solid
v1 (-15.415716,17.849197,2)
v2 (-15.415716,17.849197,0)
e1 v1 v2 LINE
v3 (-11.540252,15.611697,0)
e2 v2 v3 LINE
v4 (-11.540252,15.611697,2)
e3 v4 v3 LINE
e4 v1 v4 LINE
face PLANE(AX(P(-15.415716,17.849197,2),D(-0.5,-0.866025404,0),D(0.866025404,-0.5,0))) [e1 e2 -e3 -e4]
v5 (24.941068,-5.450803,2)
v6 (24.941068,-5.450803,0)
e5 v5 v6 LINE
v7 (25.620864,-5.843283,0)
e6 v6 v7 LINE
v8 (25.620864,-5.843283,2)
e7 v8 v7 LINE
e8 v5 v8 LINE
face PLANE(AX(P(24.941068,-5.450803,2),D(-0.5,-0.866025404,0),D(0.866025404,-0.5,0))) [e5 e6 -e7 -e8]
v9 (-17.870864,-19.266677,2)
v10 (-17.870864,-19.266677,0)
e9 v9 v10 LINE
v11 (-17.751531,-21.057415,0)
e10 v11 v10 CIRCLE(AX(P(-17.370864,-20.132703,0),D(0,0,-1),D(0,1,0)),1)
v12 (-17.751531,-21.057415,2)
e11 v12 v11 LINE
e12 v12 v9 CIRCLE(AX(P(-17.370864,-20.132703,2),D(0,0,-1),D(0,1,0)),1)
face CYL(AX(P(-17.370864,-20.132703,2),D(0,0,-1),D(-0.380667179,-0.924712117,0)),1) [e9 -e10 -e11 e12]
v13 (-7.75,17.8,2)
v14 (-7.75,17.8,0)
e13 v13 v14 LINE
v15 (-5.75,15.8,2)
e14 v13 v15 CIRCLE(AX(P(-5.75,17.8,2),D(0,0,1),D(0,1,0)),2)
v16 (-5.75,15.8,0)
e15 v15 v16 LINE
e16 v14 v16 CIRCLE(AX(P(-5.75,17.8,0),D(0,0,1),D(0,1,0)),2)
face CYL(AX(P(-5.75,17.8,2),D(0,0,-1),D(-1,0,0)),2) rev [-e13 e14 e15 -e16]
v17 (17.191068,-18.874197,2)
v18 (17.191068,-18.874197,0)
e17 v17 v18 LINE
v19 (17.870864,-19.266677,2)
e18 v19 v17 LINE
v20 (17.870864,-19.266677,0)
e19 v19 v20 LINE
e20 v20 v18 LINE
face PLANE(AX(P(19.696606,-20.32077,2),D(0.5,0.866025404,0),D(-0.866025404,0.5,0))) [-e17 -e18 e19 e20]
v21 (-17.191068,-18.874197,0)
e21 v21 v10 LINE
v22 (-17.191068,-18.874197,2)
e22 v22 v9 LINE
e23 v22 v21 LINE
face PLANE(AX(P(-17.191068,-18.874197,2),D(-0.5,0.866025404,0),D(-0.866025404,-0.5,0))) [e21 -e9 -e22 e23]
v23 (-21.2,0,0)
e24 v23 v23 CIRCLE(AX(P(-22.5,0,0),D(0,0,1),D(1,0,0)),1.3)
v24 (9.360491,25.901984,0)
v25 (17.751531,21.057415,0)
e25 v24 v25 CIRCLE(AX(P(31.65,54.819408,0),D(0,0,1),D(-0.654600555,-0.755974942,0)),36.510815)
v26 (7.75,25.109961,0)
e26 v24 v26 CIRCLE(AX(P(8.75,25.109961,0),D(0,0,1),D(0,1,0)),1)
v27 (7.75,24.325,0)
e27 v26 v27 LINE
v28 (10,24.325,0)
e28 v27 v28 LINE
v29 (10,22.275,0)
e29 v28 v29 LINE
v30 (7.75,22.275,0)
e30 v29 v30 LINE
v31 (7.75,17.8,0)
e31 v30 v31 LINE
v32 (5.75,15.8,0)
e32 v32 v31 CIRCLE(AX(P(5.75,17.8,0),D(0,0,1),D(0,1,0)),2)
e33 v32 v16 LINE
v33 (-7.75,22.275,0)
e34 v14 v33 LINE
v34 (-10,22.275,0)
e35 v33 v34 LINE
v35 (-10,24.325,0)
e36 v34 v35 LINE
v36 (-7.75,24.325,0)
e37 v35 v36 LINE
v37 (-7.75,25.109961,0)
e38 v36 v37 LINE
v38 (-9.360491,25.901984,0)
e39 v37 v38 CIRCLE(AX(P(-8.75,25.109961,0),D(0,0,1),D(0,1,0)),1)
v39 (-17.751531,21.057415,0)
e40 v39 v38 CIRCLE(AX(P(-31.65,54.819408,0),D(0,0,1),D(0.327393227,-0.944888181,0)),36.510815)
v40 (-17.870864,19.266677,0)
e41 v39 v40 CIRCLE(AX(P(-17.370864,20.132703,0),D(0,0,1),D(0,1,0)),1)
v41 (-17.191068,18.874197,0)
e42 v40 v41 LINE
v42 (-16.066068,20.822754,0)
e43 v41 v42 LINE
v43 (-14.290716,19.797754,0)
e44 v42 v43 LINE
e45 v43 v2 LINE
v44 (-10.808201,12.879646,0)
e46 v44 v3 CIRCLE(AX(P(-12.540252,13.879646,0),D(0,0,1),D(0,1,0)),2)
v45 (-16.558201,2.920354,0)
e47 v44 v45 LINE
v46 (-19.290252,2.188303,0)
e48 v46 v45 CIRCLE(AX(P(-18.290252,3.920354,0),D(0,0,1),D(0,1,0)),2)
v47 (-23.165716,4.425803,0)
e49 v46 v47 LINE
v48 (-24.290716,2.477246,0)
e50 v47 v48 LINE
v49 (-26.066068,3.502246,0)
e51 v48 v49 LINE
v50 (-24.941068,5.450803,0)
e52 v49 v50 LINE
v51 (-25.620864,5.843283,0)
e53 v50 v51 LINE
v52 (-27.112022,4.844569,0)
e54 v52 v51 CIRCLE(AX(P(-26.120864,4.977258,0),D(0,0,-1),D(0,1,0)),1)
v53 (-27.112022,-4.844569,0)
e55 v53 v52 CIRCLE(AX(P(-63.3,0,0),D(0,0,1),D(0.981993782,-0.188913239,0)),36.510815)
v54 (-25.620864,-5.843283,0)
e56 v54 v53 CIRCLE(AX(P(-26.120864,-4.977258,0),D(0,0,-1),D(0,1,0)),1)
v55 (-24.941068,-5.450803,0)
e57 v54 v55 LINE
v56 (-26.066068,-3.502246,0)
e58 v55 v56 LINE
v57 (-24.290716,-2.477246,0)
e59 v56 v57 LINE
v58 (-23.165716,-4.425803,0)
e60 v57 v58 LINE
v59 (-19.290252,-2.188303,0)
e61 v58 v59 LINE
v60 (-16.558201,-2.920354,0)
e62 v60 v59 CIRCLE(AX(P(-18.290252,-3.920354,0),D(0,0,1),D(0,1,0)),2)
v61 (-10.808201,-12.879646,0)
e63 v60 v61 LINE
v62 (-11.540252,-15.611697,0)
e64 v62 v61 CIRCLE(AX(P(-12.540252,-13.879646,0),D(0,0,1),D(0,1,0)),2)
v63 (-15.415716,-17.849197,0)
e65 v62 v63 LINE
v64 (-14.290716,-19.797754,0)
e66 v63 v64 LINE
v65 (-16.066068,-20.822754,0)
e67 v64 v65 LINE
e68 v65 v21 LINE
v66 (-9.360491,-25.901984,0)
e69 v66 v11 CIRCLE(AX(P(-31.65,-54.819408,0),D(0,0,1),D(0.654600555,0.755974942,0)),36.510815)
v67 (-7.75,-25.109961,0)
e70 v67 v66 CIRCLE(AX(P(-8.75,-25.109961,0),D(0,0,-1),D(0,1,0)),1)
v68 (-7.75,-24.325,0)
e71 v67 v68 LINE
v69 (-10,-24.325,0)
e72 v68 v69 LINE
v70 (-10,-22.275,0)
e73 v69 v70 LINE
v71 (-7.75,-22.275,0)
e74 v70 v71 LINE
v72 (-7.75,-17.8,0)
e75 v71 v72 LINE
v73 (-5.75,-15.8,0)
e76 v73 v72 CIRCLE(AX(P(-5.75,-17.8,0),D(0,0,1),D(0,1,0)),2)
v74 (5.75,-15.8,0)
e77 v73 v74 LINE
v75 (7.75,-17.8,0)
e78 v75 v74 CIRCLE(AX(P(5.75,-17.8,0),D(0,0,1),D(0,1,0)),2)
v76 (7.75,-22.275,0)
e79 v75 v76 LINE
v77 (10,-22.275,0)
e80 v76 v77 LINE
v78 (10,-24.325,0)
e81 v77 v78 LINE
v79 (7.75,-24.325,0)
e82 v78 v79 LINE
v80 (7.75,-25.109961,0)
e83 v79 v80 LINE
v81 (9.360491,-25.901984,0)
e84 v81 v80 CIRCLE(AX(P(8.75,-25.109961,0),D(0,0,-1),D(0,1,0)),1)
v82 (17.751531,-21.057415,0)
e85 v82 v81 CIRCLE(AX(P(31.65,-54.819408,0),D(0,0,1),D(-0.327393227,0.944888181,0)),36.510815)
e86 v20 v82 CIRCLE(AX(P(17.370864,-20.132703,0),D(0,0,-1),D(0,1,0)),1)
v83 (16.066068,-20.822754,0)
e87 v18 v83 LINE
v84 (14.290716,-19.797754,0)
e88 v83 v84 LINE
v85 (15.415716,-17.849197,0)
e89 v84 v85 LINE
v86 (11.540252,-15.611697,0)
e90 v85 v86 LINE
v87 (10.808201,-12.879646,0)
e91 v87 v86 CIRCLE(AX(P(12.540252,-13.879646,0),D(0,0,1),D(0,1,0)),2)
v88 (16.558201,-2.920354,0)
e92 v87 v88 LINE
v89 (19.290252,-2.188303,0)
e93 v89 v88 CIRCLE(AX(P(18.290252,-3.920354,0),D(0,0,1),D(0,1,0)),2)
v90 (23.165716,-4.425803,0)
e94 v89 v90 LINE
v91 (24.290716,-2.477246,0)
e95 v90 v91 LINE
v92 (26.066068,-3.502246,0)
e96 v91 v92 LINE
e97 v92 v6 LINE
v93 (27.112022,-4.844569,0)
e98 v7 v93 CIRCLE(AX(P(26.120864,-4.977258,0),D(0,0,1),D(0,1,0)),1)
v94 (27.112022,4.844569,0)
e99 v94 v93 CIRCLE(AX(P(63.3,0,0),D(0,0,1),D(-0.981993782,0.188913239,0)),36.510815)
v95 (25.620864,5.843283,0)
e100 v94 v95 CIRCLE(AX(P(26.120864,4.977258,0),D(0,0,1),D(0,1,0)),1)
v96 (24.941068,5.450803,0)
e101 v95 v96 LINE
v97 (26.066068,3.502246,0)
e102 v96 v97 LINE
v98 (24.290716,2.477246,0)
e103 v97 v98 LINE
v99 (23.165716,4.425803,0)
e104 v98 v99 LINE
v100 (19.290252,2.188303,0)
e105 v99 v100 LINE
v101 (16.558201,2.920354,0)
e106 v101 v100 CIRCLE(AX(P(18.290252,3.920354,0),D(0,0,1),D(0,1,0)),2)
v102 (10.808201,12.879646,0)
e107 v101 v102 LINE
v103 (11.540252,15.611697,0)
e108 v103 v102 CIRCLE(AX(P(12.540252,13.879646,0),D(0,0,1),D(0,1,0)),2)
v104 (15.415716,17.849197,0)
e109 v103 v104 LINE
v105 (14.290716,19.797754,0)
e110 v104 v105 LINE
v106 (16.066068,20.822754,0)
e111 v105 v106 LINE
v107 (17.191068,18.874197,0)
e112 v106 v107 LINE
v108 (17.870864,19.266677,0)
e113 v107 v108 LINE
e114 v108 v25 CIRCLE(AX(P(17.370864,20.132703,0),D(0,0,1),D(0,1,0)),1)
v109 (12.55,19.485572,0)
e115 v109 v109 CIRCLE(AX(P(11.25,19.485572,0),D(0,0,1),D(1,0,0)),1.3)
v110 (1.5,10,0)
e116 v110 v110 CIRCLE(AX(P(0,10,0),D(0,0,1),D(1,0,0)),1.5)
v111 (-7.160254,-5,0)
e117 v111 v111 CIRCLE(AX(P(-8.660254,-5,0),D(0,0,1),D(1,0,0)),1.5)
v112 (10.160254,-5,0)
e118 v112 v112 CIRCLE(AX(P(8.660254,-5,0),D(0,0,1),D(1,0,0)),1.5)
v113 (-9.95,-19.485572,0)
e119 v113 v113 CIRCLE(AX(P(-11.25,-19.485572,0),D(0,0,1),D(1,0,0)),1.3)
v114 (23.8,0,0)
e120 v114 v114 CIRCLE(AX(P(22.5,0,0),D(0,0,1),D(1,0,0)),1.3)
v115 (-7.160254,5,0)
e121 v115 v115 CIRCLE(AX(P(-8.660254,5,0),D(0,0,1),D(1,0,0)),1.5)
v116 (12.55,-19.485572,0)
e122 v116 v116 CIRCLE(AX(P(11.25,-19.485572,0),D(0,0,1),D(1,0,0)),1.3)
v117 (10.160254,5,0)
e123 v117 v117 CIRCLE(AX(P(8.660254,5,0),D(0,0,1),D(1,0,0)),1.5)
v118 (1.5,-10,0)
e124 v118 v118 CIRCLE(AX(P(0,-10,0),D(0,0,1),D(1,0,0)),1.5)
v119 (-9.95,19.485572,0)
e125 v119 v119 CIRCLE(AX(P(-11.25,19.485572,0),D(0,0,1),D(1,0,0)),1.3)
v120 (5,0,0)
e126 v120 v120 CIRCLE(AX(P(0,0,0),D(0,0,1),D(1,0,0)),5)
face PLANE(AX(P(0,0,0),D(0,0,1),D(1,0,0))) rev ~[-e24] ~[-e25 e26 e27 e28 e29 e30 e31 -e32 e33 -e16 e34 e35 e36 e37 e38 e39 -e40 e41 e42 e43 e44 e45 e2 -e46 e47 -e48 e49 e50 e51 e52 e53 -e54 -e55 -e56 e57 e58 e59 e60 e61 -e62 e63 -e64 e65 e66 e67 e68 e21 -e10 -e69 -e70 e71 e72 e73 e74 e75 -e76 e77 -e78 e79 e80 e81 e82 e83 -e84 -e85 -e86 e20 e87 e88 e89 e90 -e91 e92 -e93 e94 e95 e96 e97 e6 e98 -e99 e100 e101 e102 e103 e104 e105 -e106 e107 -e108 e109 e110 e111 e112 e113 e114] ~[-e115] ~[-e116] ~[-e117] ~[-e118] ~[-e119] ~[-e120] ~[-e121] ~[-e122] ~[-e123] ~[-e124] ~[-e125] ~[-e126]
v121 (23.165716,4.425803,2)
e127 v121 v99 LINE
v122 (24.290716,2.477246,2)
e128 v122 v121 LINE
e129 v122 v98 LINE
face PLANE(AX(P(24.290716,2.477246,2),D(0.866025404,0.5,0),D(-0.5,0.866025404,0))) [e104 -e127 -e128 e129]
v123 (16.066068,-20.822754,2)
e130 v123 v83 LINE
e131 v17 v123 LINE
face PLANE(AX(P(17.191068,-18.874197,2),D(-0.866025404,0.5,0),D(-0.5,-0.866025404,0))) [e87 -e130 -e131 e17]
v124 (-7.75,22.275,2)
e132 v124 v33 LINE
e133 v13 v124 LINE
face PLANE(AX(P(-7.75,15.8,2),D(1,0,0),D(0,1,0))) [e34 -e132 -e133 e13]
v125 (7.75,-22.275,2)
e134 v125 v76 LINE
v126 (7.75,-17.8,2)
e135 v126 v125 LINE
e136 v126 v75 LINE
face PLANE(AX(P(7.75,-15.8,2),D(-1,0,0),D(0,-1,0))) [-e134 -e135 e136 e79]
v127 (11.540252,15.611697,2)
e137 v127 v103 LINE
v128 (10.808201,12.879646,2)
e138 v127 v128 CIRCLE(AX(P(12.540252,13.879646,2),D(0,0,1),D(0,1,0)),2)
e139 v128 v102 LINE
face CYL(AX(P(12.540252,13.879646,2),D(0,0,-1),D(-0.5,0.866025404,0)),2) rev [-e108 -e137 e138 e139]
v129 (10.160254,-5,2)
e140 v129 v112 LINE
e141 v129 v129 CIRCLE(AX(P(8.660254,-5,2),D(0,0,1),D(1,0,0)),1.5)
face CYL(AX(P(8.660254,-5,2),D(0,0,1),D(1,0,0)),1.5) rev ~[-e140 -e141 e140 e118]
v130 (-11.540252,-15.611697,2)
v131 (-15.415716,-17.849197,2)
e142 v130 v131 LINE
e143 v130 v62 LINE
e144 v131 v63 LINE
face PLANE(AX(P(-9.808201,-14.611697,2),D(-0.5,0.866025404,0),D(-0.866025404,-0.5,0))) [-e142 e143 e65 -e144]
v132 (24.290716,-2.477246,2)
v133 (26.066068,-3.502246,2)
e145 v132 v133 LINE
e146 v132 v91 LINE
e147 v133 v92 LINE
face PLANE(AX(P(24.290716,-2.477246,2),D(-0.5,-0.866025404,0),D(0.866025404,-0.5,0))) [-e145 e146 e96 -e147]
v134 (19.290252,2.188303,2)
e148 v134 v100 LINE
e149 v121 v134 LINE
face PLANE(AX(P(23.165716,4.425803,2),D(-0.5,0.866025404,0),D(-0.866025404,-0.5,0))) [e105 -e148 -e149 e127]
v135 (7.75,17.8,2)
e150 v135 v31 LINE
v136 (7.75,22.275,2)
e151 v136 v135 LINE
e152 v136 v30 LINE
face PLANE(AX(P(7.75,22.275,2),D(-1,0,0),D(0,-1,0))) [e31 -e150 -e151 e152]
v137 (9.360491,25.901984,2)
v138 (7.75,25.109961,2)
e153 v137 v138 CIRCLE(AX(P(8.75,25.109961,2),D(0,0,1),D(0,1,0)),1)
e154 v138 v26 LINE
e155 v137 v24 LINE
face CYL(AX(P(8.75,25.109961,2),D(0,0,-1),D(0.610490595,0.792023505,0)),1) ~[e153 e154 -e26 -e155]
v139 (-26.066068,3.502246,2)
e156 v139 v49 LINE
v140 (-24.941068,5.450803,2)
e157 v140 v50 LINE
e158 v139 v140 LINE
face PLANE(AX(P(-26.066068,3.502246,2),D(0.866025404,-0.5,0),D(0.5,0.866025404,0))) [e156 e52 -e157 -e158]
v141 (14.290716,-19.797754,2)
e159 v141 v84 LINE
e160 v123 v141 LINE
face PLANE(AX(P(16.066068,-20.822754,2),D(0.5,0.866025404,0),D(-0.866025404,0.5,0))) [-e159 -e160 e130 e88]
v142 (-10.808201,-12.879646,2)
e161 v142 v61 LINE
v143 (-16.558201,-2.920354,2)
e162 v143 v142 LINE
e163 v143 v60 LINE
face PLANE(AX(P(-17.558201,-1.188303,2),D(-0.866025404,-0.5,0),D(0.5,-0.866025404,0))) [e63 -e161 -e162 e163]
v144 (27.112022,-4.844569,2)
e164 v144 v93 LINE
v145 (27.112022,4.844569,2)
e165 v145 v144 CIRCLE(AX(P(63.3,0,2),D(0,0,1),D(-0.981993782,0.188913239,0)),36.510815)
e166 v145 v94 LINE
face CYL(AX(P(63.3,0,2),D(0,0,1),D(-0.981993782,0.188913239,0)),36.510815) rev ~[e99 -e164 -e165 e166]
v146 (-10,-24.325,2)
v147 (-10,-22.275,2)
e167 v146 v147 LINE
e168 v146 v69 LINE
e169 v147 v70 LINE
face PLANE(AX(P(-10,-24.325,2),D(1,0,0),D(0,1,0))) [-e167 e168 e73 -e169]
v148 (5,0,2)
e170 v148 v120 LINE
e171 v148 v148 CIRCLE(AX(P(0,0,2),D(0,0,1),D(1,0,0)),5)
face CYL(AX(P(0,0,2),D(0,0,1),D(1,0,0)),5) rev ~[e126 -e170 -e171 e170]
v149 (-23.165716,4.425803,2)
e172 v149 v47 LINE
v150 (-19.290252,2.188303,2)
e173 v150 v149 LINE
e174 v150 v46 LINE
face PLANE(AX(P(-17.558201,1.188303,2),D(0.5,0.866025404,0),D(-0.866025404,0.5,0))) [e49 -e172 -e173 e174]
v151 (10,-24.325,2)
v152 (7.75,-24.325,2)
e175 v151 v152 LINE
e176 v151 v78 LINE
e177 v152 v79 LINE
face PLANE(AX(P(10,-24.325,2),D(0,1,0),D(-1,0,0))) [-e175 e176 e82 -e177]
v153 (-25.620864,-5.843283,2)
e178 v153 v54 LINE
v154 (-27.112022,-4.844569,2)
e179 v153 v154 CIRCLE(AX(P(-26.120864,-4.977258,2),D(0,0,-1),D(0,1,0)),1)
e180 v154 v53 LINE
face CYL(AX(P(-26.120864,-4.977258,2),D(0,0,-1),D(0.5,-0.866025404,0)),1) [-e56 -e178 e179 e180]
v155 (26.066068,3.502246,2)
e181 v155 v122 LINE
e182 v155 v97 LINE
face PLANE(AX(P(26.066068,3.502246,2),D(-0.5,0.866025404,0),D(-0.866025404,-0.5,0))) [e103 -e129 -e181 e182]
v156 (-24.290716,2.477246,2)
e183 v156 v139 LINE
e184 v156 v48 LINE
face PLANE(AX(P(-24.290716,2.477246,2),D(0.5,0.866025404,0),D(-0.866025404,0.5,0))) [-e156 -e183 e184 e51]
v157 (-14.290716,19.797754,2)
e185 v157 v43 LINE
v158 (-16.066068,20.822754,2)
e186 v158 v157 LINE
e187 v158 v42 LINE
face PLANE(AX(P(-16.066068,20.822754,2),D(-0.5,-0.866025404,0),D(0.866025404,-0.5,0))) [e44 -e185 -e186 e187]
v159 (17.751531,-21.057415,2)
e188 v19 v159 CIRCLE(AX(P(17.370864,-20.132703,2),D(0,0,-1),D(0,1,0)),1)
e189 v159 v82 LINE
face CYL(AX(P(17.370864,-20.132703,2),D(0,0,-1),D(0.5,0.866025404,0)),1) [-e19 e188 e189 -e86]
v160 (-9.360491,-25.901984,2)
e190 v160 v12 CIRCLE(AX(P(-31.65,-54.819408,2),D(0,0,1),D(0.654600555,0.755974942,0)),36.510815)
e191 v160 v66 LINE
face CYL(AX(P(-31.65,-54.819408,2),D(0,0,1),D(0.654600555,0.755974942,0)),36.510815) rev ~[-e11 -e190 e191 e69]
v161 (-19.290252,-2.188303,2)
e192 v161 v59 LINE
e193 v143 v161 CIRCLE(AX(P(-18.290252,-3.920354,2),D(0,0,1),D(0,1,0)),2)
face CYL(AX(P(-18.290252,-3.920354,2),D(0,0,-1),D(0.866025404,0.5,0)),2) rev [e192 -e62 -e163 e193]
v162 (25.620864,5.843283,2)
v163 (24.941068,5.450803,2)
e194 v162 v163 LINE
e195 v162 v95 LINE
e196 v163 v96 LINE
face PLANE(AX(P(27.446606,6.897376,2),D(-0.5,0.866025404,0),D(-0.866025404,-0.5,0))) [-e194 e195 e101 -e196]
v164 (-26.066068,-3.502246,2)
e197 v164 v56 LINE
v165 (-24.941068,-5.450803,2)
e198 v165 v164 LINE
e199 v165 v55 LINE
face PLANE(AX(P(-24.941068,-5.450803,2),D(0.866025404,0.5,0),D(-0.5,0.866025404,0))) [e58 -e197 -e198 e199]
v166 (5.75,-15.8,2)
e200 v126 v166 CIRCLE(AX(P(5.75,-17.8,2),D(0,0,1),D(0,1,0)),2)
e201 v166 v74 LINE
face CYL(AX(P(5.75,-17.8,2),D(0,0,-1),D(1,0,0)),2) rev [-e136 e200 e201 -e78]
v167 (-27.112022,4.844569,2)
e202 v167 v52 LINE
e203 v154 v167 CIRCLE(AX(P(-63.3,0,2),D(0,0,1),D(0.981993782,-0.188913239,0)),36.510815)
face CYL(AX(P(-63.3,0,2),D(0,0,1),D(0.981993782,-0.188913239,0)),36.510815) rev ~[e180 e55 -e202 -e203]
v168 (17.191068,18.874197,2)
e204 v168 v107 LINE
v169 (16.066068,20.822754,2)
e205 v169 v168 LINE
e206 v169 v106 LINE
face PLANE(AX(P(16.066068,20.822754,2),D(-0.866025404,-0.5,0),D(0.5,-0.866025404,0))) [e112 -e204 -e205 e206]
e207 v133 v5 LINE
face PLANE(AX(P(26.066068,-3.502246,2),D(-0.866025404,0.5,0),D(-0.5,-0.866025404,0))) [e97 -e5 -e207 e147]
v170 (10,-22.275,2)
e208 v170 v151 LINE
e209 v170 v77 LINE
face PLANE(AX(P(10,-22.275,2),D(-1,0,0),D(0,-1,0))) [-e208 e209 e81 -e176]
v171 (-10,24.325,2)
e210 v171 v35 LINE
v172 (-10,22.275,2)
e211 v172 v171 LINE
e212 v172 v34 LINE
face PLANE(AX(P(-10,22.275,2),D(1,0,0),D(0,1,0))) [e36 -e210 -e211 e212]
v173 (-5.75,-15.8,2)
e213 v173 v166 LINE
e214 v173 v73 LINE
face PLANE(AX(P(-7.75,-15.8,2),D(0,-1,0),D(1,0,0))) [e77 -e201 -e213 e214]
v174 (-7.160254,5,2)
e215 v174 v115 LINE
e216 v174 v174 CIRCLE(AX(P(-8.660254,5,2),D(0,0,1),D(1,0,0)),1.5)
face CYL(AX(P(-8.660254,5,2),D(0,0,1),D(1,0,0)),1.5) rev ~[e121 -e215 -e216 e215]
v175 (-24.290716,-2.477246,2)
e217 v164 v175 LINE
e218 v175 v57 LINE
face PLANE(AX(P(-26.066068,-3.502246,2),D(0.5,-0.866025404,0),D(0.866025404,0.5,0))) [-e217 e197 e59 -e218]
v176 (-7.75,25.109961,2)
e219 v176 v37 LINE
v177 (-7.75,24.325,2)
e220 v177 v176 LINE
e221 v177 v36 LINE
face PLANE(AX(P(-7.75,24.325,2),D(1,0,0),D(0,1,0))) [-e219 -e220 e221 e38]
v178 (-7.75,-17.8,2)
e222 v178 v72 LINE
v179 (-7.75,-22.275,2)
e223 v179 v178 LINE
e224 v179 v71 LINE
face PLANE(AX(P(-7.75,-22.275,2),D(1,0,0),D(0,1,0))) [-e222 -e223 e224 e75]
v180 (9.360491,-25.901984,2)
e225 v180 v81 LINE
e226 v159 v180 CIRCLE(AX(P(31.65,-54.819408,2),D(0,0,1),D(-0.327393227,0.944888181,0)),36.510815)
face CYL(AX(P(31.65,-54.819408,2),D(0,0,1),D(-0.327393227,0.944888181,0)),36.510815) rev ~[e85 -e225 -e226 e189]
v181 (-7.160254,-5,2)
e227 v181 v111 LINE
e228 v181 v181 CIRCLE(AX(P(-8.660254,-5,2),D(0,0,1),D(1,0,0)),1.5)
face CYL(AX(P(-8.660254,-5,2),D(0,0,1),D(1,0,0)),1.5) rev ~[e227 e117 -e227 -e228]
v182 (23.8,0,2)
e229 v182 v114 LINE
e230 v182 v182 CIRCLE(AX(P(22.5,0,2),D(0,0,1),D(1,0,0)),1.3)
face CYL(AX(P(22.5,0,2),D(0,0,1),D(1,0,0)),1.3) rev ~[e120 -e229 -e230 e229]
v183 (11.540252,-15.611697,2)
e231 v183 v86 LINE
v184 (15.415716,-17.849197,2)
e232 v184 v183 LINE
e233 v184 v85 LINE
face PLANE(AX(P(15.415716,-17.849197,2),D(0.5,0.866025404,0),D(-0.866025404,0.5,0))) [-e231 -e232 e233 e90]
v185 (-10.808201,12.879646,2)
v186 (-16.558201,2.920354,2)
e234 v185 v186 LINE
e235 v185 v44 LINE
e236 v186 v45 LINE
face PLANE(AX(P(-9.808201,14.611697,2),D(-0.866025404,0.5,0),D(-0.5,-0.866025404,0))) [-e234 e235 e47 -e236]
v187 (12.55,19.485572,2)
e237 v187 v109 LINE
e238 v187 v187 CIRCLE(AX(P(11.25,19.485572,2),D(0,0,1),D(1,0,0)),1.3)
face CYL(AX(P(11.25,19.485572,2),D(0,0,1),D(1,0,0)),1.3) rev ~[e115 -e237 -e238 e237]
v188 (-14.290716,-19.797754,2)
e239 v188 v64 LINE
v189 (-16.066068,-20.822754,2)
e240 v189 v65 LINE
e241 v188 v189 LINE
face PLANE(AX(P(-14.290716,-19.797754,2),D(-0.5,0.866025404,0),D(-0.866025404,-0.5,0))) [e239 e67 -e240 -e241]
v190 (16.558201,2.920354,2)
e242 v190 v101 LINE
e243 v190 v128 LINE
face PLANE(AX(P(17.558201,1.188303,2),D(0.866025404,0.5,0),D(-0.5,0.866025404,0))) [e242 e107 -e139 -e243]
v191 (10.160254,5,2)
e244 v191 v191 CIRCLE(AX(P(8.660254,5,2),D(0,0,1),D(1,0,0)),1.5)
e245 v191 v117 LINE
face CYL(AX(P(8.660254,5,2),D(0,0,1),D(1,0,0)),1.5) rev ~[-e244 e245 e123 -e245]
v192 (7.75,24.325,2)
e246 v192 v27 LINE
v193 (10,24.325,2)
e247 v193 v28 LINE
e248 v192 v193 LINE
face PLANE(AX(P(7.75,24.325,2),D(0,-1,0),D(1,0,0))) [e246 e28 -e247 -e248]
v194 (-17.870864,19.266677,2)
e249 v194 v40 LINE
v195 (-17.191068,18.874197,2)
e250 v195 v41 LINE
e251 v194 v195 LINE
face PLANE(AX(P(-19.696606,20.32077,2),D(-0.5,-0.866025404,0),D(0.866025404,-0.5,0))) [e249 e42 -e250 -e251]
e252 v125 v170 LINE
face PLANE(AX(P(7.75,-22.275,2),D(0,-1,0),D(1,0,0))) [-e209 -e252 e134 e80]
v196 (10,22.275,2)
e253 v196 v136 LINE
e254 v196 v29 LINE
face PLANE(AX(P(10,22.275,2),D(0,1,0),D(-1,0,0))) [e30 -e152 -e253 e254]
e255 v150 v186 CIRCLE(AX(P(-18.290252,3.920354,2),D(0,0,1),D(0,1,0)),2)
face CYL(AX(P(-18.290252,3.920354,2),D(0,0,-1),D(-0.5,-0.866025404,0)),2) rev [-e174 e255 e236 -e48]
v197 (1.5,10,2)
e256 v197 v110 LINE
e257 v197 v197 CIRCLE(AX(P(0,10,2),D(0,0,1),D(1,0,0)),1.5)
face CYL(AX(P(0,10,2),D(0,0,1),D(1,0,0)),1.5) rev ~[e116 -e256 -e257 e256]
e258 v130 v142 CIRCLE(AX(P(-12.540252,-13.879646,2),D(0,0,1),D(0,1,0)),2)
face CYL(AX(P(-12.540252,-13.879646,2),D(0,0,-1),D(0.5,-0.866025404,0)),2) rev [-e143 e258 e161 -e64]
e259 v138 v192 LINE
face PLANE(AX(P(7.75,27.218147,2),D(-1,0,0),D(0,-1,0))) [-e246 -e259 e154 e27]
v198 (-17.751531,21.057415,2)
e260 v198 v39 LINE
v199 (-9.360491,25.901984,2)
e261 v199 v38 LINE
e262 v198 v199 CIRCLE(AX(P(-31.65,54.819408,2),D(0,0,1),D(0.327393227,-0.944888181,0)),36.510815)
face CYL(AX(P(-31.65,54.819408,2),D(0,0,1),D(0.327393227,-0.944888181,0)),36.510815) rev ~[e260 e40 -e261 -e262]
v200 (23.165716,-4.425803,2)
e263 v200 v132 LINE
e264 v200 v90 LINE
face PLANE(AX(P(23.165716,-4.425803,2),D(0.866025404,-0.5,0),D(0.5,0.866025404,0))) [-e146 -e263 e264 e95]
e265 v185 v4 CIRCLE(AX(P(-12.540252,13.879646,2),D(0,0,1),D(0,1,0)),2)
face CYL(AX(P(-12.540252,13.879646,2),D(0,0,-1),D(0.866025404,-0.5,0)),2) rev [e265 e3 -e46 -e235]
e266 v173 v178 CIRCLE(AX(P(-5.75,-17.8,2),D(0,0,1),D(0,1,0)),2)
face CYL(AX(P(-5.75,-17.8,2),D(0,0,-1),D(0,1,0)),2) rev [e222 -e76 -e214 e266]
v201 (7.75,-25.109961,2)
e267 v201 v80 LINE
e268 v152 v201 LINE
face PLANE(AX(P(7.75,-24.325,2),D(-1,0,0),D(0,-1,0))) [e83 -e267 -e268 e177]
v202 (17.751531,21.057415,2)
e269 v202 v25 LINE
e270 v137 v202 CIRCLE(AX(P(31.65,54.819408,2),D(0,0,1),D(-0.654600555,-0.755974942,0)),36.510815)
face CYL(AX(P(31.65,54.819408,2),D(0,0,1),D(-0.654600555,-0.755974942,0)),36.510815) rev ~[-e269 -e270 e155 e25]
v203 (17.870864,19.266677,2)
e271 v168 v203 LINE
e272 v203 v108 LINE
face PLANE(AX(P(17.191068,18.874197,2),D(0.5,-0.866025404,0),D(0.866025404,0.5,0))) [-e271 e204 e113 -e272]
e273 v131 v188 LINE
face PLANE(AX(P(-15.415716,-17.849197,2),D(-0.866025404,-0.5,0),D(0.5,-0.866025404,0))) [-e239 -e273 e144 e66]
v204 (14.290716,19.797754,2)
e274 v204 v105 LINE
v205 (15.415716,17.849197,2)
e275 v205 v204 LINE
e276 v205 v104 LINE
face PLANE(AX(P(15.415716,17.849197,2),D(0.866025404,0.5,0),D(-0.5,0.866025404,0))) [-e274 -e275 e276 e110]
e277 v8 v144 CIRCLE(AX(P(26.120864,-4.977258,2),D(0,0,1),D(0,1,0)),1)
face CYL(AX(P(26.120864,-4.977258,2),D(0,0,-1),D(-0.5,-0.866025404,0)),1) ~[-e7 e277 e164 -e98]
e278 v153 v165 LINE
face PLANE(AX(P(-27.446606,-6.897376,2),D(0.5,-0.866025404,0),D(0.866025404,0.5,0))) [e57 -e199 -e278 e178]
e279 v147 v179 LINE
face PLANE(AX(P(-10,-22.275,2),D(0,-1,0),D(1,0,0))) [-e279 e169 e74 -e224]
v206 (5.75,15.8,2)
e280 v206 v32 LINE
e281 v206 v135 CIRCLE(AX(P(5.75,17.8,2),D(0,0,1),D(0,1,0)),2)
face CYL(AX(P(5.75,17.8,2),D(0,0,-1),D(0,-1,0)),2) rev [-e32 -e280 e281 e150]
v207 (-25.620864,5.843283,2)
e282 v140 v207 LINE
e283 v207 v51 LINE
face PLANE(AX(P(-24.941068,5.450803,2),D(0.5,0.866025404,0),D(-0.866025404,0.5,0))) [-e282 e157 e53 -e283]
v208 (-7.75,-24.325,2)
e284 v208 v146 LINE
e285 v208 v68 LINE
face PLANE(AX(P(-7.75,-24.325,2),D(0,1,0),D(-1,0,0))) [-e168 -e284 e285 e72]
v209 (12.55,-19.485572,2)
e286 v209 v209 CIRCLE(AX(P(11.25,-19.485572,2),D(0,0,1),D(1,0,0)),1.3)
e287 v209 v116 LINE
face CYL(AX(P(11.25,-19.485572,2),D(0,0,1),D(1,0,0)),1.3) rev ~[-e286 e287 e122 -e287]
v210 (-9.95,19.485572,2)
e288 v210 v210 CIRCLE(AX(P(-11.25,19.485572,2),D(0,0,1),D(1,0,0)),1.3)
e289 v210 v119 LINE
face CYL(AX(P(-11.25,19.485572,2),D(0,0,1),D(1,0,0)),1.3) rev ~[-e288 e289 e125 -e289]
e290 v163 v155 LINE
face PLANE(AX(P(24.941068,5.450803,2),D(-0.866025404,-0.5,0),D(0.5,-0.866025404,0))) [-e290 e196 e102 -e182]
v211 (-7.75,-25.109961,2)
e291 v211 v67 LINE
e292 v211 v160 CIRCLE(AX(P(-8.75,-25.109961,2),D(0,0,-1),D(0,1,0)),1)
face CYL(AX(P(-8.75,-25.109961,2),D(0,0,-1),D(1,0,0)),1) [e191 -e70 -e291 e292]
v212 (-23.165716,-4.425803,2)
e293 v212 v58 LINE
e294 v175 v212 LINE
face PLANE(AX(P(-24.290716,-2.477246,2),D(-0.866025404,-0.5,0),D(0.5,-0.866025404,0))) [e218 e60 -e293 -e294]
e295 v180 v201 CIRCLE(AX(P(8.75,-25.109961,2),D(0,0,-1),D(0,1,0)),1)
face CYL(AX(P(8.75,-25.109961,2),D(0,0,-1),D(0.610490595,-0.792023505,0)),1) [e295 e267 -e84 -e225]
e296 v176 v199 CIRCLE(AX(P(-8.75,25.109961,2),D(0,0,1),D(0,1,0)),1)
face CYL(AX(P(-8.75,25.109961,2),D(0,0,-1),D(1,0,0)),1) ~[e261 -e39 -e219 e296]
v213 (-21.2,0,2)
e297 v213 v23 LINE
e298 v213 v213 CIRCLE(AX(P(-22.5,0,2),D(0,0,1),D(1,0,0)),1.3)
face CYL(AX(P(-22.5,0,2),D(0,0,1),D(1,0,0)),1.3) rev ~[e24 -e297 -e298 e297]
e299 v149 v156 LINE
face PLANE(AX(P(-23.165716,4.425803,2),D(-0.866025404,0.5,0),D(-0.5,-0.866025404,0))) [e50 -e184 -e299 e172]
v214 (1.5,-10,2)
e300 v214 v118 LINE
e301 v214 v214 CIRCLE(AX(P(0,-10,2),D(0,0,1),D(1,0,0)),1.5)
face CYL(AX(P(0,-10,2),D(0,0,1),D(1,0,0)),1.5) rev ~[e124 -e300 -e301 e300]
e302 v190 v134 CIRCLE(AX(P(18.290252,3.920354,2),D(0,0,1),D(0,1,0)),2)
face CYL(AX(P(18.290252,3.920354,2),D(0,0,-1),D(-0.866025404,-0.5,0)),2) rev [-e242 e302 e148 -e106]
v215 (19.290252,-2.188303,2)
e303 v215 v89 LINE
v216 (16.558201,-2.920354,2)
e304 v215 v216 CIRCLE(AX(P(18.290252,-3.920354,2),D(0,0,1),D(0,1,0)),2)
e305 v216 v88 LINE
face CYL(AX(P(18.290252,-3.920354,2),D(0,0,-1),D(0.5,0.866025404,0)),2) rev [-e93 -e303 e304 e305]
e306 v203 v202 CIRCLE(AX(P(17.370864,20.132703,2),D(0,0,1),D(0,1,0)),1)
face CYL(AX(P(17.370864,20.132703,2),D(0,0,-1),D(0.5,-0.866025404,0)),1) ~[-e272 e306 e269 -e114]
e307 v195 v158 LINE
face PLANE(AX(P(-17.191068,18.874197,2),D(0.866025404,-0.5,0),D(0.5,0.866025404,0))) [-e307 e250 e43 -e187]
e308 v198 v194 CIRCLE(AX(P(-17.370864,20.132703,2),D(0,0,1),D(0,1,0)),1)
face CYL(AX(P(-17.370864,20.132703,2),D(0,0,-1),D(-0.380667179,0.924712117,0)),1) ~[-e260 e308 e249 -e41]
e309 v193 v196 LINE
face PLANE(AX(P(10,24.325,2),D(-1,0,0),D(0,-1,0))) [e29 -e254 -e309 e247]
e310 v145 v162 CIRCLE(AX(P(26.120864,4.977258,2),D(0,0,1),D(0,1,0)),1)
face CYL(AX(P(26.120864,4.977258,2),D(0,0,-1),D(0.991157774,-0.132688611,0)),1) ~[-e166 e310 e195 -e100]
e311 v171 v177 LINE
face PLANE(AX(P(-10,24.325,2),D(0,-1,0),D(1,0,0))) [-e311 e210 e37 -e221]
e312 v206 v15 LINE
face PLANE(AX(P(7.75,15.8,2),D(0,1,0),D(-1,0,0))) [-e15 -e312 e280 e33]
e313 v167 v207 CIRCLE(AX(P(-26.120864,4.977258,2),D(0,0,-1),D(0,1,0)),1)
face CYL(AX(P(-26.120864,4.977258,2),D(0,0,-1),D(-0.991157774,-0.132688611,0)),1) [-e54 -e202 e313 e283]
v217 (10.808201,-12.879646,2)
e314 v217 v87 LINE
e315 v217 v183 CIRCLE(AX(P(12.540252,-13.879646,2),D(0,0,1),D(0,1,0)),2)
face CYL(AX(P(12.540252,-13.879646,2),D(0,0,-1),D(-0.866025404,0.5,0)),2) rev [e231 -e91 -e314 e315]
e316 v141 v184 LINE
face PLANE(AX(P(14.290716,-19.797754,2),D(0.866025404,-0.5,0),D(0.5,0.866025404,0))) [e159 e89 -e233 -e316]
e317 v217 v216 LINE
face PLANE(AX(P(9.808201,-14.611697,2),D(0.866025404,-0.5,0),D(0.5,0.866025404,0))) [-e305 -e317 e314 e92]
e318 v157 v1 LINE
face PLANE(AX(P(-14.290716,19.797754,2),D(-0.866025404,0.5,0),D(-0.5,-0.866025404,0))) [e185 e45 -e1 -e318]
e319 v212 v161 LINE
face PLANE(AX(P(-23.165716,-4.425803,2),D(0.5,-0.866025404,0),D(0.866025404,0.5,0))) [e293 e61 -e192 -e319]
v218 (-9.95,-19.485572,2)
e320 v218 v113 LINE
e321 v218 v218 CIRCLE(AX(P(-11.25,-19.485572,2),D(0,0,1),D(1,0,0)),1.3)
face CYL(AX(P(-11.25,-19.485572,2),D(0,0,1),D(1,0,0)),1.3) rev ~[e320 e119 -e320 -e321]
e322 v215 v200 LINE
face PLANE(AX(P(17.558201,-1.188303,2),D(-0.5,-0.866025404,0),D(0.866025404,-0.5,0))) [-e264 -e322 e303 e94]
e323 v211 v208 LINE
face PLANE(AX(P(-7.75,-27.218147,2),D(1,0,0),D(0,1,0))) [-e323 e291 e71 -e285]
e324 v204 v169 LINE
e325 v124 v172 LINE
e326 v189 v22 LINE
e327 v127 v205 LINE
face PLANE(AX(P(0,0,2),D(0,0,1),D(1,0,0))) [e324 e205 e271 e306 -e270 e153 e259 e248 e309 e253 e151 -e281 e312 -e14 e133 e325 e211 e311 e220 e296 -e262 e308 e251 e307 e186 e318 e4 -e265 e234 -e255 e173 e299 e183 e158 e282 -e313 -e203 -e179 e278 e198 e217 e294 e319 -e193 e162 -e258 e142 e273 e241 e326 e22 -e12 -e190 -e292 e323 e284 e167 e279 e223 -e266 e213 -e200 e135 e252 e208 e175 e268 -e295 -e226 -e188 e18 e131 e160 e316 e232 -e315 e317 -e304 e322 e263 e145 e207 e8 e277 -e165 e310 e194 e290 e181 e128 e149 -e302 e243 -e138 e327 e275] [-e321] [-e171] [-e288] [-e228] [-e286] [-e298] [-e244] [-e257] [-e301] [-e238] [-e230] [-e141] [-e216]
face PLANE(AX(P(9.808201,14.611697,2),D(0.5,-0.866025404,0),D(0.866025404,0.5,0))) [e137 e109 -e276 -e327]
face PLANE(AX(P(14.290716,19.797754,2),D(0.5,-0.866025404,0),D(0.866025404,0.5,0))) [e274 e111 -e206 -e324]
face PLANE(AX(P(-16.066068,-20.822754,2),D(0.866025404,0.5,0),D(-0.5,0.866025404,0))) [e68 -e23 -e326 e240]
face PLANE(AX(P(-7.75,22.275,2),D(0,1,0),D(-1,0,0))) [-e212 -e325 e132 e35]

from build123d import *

# Parameters (mm, degrees)
SKETCH_1_R          = 28.3
EXTRUDE_1_DEPTH     = 2
SKETCH_2_R          = 5
SKETCH_2_R_2        = 1.5
SKETCH_2_R_3        = 1.3
CUT_EXTRUDE_1_DEPTH = 41.072184867
CUT_EXTRUDE_3_DEPTH = 40.315613947
FILLET_2_R          = 2
FILLET_1_R          = 1


with BuildPart() as part:
    # ｽｹｯﾁ1 → ﾎﾞｽ - 押し出し1 (new body)
    with BuildSketch(Plane.XY):
        Circle(SKETCH_1_R)
    extrude(amount=EXTRUDE_1_DEPTH)

    # ｽｹｯﾁ2 → ｶｯﾄ - 押し出し1 (cut, through all)
    with BuildSketch(Plane.XY.offset(2)):
        Circle(SKETCH_2_R)
        with Locations((8.660254038, 5)):
            Circle(SKETCH_2_R_2)
        with Locations((8.660254038, -5)):
            Circle(SKETCH_2_R_2)
        with Locations((0, -10)):
            Circle(SKETCH_2_R_2)
        with Locations((-8.660254038, -5)):
            Circle(SKETCH_2_R_2)
        with Locations((-8.660254038, 5)):
            Circle(SKETCH_2_R_2)
        with Locations((0, 10)):
            Circle(SKETCH_2_R_2)
        with Locations((11.25, 19.485571585)):
            Circle(SKETCH_2_R_3)
        with Locations((22.5, 0)):
            Circle(SKETCH_2_R_3)
        with Locations((11.25, -19.485571585)):
            Circle(SKETCH_2_R_3)
        with Locations((-11.25, -19.485571585)):
            Circle(SKETCH_2_R_3)
        with Locations((-22.5, 0)):
            Circle(SKETCH_2_R_3)
        with Locations((-11.25, 19.485571585)):
            Circle(SKETCH_2_R_3)
        with BuildLine():
            Line((7.75, 24.325), (10, 24.325))
            Line((10, 24.325), (10, 22.275))
            Line((10, 22.275), (7.75, 22.275))
            Line((7.75, 22.275), (7.75, 15.8))
            Line((7.75, 15.8), (-7.75, 15.8))
            Line((-7.75, 15.8), (-7.75, 22.275))
            Line((-7.75, 22.275), (-10, 22.275))
            Line((-10, 22.275), (-10, 24.325))
            Line((-10, 24.325), (-7.75, 24.325))
            Line((-7.75, 24.325), (-7.75, 27.21814652))
            ThreePointArc((-7.75, 27.21814652), (0, 28.3), (7.75, 27.21814652))
            Line((7.75, 27.21814652), (7.75, 24.325))
        make_face()
        with BuildLine():
            Line((24.941067947, 5.450803121), (26.066067947, 3.502245962))
            Line((26.066067947, 3.502245962), (24.290715869, 2.477245962))
            Line((24.290715869, 2.477245962), (23.165715869, 4.425803121))
            Line((23.165715869, 4.425803121), (17.55820138, 1.188303121))
            Line((17.55820138, 1.188303121), (9.80820138, 14.611696879))
            Line((9.80820138, 14.611696879), (15.415715869, 17.849196879))
            Line((15.415715869, 17.849196879), (14.290715869, 19.797754038))
            Line((14.290715869, 19.797754038), (16.066067947, 20.822754038))
            Line((16.066067947, 20.822754038), (17.191067947, 18.874196879))
            Line((17.191067947, 18.874196879), (19.69660633, 20.320770139))
            ThreePointArc((19.69660633, 20.320770139), (24.508518927, 14.15), (27.44660633, 6.897376381))
            Line((27.44660633, 6.897376381), (24.941067947, 5.450803121))
        make_face()
        with BuildLine():
            Line((17.191067947, -18.874196879), (16.066067947, -20.822754038))
            Line((16.066067947, -20.822754038), (14.290715869, -19.797754038))
            Line((14.290715869, -19.797754038), (15.415715869, -17.849196879))
            Line((15.415715869, -17.849196879), (9.80820138, -14.611696879))
            Line((9.80820138, -14.611696879), (17.55820138, -1.188303121))
            Line((17.55820138, -1.188303121), (23.165715869, -4.425803121))
            Line((23.165715869, -4.425803121), (24.290715869, -2.477245962))
            Line((24.290715869, -2.477245962), (26.066067947, -3.502245962))
            Line((26.066067947, -3.502245962), (24.941067947, -5.450803121))
            Line((24.941067947, -5.450803121), (27.44660633, -6.897376381))
            ThreePointArc((27.44660633, -6.897376381), (24.508518927, -14.15), (19.69660633, -20.320770139))
            Line((19.69660633, -20.320770139), (17.191067947, -18.874196879))
        make_face()
        with BuildLine():
            Line((-7.75, -24.325), (-10, -24.325))
            Line((-10, -24.325), (-10, -22.275))
            Line((-10, -22.275), (-7.75, -22.275))
            Line((-7.75, -22.275), (-7.75, -15.8))
            Line((-7.75, -15.8), (7.75, -15.8))
            Line((7.75, -15.8), (7.75, -22.275))
            Line((7.75, -22.275), (10, -22.275))
            Line((10, -22.275), (10, -24.325))
            Line((10, -24.325), (7.75, -24.325))
            Line((7.75, -24.325), (7.75, -27.21814652))
            ThreePointArc((7.75, -27.21814652), (0, -28.3), (-7.75, -27.21814652))
            Line((-7.75, -27.21814652), (-7.75, -24.325))
        make_face()
        with BuildLine():
            Line((-24.941067947, -5.450803121), (-26.066067947, -3.502245962))
            Line((-26.066067947, -3.502245962), (-24.290715869, -2.477245962))
            Line((-24.290715869, -2.477245962), (-23.165715869, -4.425803121))
            Line((-23.165715869, -4.425803121), (-17.55820138, -1.188303121))
            Line((-17.55820138, -1.188303121), (-9.80820138, -14.611696879))
            Line((-9.80820138, -14.611696879), (-15.415715869, -17.849196879))
            Line((-15.415715869, -17.849196879), (-14.290715869, -19.797754038))
            Line((-14.290715869, -19.797754038), (-16.066067947, -20.822754038))
            Line((-16.066067947, -20.822754038), (-17.191067947, -18.874196879))
            Line((-17.191067947, -18.874196879), (-19.69660633, -20.320770139))
            ThreePointArc((-19.69660633, -20.320770139), (-24.508518927, -14.15), (-27.44660633, -6.897376381))
            Line((-27.44660633, -6.897376381), (-24.941067947, -5.450803121))
        make_face()
        with BuildLine():
            Line((-17.191067947, 18.874196879), (-16.066067947, 20.822754038))
            Line((-16.066067947, 20.822754038), (-14.290715869, 19.797754038))
            Line((-14.290715869, 19.797754038), (-15.415715869, 17.849196879))
            Line((-15.415715869, 17.849196879), (-9.80820138, 14.611696879))
            Line((-9.80820138, 14.611696879), (-17.55820138, 1.188303121))
            Line((-17.55820138, 1.188303121), (-23.165715869, 4.425803121))
            Line((-23.165715869, 4.425803121), (-24.290715869, 2.477245962))
            Line((-24.290715869, 2.477245962), (-26.066067947, 3.502245962))
            Line((-26.066067947, 3.502245962), (-24.941067947, 5.450803121))
            Line((-24.941067947, 5.450803121), (-27.44660633, 6.897376381))
            ThreePointArc((-27.44660633, 6.897376381), (-24.508518927, 14.15), (-19.69660633, 20.320770139))
            Line((-19.69660633, 20.320770139), (-17.191067947, 18.874196879))
        make_face()
    extrude(amount=-CUT_EXTRUDE_1_DEPTH, mode=Mode.SUBTRACT)

    # ｽｹｯﾁ3 → ｶｯﾄ - 押し出し3 (cut, through all)
    with BuildSketch(Plane.XY.offset(2)):
        with BuildLine():
            ThreePointArc((7.75, 27.21814652), (13.394592318, 23.200114441), (19.69660633, 20.320770139))
            ThreePointArc((19.69660633, 20.320770139), (14.15, 24.508518927), (7.75, 27.21814652))
        make_face()
        with BuildLine():
            ThreePointArc((27.44660633, 6.897376381), (26.789184636, 0), (27.44660633, -6.897376381))
            ThreePointArc((27.44660633, -6.897376381), (28.3, 0), (27.44660633, 6.897376381))
        make_face()
        with BuildLine():
            ThreePointArc((19.69660633, -20.320770139), (13.394592318, -23.200114441), (7.75, -27.21814652))
            ThreePointArc((7.75, -27.21814652), (14.15, -24.508518927), (19.69660633, -20.320770139))
        make_face()
        with BuildLine():
            ThreePointArc((-7.75, -27.21814652), (-13.394592318, -23.200114441), (-19.69660633, -20.320770139))
            ThreePointArc((-19.69660633, -20.320770139), (-14.15, -24.508518927), (-7.75, -27.21814652))
        make_face()
        with BuildLine():
            ThreePointArc((-27.44660633, -6.897376381), (-26.789184636, 0), (-27.44660633, 6.897376381))
            ThreePointArc((-27.44660633, 6.897376381), (-28.3, 0), (-27.44660633, -6.897376381))
        make_face()
        with BuildLine():
            ThreePointArc((-19.69660633, 20.320770139), (-13.394592318, 23.200114441), (-7.75, 27.21814652))
            ThreePointArc((-7.75, 27.21814652), (-14.15, 24.508518927), (-19.69660633, 20.320770139))
        make_face()
    extrude(amount=-CUT_EXTRUDE_3_DEPTH, mode=Mode.SUBTRACT)

    # ﾌｨﾚｯﾄ2
    fillet_2_edges = [part.edges().sort_by_distance(p)[0] for p in [
        (9.80820138, -14.611696879, 1),
        (17.55820138, -1.188303121, 1),
        (17.55820138, 1.188303121, 1),
        (9.80820138, 14.611696879, 1),
        (7.75, 15.8, 1),
        (-7.75, 15.8, 1),
        (-9.80820138, 14.611696879, 1),
        (-17.55820138, 1.188303121, 1),
        (-7.75, -15.8, 1),
        (7.75, -15.8, 1),
        (-17.55820138, -1.188303121, 1),
        (-9.80820138, -14.611696879, 1),
    ]]
    fillet(fillet_2_edges, radius=FILLET_2_R)

    # ﾌｨﾚｯﾄ1
    fillet_1_edges = [part.edges().sort_by_distance(p)[0] for p in [
        (27.44660633, -6.897376381, 1),
        (19.69660633, -20.320770139, 1),
        (19.69660633, 20.320770139, 1),
        (27.44660633, 6.897376381, 1),
        (-7.75, 27.21814652, 1),
        (7.75, 27.21814652, 1),
        (-27.44660633, 6.897376381, 1),
        (-19.69660633, 20.320770139, 1),
        (7.75, -27.21814652, 1),
        (-7.75, -27.21814652, 1),
        (-19.69660633, -20.320770139, 1),
        (-27.44660633, -6.897376381, 1),
    ]]
    fillet(fillet_1_edges, radius=FILLET_1_R)


solid = part.part
